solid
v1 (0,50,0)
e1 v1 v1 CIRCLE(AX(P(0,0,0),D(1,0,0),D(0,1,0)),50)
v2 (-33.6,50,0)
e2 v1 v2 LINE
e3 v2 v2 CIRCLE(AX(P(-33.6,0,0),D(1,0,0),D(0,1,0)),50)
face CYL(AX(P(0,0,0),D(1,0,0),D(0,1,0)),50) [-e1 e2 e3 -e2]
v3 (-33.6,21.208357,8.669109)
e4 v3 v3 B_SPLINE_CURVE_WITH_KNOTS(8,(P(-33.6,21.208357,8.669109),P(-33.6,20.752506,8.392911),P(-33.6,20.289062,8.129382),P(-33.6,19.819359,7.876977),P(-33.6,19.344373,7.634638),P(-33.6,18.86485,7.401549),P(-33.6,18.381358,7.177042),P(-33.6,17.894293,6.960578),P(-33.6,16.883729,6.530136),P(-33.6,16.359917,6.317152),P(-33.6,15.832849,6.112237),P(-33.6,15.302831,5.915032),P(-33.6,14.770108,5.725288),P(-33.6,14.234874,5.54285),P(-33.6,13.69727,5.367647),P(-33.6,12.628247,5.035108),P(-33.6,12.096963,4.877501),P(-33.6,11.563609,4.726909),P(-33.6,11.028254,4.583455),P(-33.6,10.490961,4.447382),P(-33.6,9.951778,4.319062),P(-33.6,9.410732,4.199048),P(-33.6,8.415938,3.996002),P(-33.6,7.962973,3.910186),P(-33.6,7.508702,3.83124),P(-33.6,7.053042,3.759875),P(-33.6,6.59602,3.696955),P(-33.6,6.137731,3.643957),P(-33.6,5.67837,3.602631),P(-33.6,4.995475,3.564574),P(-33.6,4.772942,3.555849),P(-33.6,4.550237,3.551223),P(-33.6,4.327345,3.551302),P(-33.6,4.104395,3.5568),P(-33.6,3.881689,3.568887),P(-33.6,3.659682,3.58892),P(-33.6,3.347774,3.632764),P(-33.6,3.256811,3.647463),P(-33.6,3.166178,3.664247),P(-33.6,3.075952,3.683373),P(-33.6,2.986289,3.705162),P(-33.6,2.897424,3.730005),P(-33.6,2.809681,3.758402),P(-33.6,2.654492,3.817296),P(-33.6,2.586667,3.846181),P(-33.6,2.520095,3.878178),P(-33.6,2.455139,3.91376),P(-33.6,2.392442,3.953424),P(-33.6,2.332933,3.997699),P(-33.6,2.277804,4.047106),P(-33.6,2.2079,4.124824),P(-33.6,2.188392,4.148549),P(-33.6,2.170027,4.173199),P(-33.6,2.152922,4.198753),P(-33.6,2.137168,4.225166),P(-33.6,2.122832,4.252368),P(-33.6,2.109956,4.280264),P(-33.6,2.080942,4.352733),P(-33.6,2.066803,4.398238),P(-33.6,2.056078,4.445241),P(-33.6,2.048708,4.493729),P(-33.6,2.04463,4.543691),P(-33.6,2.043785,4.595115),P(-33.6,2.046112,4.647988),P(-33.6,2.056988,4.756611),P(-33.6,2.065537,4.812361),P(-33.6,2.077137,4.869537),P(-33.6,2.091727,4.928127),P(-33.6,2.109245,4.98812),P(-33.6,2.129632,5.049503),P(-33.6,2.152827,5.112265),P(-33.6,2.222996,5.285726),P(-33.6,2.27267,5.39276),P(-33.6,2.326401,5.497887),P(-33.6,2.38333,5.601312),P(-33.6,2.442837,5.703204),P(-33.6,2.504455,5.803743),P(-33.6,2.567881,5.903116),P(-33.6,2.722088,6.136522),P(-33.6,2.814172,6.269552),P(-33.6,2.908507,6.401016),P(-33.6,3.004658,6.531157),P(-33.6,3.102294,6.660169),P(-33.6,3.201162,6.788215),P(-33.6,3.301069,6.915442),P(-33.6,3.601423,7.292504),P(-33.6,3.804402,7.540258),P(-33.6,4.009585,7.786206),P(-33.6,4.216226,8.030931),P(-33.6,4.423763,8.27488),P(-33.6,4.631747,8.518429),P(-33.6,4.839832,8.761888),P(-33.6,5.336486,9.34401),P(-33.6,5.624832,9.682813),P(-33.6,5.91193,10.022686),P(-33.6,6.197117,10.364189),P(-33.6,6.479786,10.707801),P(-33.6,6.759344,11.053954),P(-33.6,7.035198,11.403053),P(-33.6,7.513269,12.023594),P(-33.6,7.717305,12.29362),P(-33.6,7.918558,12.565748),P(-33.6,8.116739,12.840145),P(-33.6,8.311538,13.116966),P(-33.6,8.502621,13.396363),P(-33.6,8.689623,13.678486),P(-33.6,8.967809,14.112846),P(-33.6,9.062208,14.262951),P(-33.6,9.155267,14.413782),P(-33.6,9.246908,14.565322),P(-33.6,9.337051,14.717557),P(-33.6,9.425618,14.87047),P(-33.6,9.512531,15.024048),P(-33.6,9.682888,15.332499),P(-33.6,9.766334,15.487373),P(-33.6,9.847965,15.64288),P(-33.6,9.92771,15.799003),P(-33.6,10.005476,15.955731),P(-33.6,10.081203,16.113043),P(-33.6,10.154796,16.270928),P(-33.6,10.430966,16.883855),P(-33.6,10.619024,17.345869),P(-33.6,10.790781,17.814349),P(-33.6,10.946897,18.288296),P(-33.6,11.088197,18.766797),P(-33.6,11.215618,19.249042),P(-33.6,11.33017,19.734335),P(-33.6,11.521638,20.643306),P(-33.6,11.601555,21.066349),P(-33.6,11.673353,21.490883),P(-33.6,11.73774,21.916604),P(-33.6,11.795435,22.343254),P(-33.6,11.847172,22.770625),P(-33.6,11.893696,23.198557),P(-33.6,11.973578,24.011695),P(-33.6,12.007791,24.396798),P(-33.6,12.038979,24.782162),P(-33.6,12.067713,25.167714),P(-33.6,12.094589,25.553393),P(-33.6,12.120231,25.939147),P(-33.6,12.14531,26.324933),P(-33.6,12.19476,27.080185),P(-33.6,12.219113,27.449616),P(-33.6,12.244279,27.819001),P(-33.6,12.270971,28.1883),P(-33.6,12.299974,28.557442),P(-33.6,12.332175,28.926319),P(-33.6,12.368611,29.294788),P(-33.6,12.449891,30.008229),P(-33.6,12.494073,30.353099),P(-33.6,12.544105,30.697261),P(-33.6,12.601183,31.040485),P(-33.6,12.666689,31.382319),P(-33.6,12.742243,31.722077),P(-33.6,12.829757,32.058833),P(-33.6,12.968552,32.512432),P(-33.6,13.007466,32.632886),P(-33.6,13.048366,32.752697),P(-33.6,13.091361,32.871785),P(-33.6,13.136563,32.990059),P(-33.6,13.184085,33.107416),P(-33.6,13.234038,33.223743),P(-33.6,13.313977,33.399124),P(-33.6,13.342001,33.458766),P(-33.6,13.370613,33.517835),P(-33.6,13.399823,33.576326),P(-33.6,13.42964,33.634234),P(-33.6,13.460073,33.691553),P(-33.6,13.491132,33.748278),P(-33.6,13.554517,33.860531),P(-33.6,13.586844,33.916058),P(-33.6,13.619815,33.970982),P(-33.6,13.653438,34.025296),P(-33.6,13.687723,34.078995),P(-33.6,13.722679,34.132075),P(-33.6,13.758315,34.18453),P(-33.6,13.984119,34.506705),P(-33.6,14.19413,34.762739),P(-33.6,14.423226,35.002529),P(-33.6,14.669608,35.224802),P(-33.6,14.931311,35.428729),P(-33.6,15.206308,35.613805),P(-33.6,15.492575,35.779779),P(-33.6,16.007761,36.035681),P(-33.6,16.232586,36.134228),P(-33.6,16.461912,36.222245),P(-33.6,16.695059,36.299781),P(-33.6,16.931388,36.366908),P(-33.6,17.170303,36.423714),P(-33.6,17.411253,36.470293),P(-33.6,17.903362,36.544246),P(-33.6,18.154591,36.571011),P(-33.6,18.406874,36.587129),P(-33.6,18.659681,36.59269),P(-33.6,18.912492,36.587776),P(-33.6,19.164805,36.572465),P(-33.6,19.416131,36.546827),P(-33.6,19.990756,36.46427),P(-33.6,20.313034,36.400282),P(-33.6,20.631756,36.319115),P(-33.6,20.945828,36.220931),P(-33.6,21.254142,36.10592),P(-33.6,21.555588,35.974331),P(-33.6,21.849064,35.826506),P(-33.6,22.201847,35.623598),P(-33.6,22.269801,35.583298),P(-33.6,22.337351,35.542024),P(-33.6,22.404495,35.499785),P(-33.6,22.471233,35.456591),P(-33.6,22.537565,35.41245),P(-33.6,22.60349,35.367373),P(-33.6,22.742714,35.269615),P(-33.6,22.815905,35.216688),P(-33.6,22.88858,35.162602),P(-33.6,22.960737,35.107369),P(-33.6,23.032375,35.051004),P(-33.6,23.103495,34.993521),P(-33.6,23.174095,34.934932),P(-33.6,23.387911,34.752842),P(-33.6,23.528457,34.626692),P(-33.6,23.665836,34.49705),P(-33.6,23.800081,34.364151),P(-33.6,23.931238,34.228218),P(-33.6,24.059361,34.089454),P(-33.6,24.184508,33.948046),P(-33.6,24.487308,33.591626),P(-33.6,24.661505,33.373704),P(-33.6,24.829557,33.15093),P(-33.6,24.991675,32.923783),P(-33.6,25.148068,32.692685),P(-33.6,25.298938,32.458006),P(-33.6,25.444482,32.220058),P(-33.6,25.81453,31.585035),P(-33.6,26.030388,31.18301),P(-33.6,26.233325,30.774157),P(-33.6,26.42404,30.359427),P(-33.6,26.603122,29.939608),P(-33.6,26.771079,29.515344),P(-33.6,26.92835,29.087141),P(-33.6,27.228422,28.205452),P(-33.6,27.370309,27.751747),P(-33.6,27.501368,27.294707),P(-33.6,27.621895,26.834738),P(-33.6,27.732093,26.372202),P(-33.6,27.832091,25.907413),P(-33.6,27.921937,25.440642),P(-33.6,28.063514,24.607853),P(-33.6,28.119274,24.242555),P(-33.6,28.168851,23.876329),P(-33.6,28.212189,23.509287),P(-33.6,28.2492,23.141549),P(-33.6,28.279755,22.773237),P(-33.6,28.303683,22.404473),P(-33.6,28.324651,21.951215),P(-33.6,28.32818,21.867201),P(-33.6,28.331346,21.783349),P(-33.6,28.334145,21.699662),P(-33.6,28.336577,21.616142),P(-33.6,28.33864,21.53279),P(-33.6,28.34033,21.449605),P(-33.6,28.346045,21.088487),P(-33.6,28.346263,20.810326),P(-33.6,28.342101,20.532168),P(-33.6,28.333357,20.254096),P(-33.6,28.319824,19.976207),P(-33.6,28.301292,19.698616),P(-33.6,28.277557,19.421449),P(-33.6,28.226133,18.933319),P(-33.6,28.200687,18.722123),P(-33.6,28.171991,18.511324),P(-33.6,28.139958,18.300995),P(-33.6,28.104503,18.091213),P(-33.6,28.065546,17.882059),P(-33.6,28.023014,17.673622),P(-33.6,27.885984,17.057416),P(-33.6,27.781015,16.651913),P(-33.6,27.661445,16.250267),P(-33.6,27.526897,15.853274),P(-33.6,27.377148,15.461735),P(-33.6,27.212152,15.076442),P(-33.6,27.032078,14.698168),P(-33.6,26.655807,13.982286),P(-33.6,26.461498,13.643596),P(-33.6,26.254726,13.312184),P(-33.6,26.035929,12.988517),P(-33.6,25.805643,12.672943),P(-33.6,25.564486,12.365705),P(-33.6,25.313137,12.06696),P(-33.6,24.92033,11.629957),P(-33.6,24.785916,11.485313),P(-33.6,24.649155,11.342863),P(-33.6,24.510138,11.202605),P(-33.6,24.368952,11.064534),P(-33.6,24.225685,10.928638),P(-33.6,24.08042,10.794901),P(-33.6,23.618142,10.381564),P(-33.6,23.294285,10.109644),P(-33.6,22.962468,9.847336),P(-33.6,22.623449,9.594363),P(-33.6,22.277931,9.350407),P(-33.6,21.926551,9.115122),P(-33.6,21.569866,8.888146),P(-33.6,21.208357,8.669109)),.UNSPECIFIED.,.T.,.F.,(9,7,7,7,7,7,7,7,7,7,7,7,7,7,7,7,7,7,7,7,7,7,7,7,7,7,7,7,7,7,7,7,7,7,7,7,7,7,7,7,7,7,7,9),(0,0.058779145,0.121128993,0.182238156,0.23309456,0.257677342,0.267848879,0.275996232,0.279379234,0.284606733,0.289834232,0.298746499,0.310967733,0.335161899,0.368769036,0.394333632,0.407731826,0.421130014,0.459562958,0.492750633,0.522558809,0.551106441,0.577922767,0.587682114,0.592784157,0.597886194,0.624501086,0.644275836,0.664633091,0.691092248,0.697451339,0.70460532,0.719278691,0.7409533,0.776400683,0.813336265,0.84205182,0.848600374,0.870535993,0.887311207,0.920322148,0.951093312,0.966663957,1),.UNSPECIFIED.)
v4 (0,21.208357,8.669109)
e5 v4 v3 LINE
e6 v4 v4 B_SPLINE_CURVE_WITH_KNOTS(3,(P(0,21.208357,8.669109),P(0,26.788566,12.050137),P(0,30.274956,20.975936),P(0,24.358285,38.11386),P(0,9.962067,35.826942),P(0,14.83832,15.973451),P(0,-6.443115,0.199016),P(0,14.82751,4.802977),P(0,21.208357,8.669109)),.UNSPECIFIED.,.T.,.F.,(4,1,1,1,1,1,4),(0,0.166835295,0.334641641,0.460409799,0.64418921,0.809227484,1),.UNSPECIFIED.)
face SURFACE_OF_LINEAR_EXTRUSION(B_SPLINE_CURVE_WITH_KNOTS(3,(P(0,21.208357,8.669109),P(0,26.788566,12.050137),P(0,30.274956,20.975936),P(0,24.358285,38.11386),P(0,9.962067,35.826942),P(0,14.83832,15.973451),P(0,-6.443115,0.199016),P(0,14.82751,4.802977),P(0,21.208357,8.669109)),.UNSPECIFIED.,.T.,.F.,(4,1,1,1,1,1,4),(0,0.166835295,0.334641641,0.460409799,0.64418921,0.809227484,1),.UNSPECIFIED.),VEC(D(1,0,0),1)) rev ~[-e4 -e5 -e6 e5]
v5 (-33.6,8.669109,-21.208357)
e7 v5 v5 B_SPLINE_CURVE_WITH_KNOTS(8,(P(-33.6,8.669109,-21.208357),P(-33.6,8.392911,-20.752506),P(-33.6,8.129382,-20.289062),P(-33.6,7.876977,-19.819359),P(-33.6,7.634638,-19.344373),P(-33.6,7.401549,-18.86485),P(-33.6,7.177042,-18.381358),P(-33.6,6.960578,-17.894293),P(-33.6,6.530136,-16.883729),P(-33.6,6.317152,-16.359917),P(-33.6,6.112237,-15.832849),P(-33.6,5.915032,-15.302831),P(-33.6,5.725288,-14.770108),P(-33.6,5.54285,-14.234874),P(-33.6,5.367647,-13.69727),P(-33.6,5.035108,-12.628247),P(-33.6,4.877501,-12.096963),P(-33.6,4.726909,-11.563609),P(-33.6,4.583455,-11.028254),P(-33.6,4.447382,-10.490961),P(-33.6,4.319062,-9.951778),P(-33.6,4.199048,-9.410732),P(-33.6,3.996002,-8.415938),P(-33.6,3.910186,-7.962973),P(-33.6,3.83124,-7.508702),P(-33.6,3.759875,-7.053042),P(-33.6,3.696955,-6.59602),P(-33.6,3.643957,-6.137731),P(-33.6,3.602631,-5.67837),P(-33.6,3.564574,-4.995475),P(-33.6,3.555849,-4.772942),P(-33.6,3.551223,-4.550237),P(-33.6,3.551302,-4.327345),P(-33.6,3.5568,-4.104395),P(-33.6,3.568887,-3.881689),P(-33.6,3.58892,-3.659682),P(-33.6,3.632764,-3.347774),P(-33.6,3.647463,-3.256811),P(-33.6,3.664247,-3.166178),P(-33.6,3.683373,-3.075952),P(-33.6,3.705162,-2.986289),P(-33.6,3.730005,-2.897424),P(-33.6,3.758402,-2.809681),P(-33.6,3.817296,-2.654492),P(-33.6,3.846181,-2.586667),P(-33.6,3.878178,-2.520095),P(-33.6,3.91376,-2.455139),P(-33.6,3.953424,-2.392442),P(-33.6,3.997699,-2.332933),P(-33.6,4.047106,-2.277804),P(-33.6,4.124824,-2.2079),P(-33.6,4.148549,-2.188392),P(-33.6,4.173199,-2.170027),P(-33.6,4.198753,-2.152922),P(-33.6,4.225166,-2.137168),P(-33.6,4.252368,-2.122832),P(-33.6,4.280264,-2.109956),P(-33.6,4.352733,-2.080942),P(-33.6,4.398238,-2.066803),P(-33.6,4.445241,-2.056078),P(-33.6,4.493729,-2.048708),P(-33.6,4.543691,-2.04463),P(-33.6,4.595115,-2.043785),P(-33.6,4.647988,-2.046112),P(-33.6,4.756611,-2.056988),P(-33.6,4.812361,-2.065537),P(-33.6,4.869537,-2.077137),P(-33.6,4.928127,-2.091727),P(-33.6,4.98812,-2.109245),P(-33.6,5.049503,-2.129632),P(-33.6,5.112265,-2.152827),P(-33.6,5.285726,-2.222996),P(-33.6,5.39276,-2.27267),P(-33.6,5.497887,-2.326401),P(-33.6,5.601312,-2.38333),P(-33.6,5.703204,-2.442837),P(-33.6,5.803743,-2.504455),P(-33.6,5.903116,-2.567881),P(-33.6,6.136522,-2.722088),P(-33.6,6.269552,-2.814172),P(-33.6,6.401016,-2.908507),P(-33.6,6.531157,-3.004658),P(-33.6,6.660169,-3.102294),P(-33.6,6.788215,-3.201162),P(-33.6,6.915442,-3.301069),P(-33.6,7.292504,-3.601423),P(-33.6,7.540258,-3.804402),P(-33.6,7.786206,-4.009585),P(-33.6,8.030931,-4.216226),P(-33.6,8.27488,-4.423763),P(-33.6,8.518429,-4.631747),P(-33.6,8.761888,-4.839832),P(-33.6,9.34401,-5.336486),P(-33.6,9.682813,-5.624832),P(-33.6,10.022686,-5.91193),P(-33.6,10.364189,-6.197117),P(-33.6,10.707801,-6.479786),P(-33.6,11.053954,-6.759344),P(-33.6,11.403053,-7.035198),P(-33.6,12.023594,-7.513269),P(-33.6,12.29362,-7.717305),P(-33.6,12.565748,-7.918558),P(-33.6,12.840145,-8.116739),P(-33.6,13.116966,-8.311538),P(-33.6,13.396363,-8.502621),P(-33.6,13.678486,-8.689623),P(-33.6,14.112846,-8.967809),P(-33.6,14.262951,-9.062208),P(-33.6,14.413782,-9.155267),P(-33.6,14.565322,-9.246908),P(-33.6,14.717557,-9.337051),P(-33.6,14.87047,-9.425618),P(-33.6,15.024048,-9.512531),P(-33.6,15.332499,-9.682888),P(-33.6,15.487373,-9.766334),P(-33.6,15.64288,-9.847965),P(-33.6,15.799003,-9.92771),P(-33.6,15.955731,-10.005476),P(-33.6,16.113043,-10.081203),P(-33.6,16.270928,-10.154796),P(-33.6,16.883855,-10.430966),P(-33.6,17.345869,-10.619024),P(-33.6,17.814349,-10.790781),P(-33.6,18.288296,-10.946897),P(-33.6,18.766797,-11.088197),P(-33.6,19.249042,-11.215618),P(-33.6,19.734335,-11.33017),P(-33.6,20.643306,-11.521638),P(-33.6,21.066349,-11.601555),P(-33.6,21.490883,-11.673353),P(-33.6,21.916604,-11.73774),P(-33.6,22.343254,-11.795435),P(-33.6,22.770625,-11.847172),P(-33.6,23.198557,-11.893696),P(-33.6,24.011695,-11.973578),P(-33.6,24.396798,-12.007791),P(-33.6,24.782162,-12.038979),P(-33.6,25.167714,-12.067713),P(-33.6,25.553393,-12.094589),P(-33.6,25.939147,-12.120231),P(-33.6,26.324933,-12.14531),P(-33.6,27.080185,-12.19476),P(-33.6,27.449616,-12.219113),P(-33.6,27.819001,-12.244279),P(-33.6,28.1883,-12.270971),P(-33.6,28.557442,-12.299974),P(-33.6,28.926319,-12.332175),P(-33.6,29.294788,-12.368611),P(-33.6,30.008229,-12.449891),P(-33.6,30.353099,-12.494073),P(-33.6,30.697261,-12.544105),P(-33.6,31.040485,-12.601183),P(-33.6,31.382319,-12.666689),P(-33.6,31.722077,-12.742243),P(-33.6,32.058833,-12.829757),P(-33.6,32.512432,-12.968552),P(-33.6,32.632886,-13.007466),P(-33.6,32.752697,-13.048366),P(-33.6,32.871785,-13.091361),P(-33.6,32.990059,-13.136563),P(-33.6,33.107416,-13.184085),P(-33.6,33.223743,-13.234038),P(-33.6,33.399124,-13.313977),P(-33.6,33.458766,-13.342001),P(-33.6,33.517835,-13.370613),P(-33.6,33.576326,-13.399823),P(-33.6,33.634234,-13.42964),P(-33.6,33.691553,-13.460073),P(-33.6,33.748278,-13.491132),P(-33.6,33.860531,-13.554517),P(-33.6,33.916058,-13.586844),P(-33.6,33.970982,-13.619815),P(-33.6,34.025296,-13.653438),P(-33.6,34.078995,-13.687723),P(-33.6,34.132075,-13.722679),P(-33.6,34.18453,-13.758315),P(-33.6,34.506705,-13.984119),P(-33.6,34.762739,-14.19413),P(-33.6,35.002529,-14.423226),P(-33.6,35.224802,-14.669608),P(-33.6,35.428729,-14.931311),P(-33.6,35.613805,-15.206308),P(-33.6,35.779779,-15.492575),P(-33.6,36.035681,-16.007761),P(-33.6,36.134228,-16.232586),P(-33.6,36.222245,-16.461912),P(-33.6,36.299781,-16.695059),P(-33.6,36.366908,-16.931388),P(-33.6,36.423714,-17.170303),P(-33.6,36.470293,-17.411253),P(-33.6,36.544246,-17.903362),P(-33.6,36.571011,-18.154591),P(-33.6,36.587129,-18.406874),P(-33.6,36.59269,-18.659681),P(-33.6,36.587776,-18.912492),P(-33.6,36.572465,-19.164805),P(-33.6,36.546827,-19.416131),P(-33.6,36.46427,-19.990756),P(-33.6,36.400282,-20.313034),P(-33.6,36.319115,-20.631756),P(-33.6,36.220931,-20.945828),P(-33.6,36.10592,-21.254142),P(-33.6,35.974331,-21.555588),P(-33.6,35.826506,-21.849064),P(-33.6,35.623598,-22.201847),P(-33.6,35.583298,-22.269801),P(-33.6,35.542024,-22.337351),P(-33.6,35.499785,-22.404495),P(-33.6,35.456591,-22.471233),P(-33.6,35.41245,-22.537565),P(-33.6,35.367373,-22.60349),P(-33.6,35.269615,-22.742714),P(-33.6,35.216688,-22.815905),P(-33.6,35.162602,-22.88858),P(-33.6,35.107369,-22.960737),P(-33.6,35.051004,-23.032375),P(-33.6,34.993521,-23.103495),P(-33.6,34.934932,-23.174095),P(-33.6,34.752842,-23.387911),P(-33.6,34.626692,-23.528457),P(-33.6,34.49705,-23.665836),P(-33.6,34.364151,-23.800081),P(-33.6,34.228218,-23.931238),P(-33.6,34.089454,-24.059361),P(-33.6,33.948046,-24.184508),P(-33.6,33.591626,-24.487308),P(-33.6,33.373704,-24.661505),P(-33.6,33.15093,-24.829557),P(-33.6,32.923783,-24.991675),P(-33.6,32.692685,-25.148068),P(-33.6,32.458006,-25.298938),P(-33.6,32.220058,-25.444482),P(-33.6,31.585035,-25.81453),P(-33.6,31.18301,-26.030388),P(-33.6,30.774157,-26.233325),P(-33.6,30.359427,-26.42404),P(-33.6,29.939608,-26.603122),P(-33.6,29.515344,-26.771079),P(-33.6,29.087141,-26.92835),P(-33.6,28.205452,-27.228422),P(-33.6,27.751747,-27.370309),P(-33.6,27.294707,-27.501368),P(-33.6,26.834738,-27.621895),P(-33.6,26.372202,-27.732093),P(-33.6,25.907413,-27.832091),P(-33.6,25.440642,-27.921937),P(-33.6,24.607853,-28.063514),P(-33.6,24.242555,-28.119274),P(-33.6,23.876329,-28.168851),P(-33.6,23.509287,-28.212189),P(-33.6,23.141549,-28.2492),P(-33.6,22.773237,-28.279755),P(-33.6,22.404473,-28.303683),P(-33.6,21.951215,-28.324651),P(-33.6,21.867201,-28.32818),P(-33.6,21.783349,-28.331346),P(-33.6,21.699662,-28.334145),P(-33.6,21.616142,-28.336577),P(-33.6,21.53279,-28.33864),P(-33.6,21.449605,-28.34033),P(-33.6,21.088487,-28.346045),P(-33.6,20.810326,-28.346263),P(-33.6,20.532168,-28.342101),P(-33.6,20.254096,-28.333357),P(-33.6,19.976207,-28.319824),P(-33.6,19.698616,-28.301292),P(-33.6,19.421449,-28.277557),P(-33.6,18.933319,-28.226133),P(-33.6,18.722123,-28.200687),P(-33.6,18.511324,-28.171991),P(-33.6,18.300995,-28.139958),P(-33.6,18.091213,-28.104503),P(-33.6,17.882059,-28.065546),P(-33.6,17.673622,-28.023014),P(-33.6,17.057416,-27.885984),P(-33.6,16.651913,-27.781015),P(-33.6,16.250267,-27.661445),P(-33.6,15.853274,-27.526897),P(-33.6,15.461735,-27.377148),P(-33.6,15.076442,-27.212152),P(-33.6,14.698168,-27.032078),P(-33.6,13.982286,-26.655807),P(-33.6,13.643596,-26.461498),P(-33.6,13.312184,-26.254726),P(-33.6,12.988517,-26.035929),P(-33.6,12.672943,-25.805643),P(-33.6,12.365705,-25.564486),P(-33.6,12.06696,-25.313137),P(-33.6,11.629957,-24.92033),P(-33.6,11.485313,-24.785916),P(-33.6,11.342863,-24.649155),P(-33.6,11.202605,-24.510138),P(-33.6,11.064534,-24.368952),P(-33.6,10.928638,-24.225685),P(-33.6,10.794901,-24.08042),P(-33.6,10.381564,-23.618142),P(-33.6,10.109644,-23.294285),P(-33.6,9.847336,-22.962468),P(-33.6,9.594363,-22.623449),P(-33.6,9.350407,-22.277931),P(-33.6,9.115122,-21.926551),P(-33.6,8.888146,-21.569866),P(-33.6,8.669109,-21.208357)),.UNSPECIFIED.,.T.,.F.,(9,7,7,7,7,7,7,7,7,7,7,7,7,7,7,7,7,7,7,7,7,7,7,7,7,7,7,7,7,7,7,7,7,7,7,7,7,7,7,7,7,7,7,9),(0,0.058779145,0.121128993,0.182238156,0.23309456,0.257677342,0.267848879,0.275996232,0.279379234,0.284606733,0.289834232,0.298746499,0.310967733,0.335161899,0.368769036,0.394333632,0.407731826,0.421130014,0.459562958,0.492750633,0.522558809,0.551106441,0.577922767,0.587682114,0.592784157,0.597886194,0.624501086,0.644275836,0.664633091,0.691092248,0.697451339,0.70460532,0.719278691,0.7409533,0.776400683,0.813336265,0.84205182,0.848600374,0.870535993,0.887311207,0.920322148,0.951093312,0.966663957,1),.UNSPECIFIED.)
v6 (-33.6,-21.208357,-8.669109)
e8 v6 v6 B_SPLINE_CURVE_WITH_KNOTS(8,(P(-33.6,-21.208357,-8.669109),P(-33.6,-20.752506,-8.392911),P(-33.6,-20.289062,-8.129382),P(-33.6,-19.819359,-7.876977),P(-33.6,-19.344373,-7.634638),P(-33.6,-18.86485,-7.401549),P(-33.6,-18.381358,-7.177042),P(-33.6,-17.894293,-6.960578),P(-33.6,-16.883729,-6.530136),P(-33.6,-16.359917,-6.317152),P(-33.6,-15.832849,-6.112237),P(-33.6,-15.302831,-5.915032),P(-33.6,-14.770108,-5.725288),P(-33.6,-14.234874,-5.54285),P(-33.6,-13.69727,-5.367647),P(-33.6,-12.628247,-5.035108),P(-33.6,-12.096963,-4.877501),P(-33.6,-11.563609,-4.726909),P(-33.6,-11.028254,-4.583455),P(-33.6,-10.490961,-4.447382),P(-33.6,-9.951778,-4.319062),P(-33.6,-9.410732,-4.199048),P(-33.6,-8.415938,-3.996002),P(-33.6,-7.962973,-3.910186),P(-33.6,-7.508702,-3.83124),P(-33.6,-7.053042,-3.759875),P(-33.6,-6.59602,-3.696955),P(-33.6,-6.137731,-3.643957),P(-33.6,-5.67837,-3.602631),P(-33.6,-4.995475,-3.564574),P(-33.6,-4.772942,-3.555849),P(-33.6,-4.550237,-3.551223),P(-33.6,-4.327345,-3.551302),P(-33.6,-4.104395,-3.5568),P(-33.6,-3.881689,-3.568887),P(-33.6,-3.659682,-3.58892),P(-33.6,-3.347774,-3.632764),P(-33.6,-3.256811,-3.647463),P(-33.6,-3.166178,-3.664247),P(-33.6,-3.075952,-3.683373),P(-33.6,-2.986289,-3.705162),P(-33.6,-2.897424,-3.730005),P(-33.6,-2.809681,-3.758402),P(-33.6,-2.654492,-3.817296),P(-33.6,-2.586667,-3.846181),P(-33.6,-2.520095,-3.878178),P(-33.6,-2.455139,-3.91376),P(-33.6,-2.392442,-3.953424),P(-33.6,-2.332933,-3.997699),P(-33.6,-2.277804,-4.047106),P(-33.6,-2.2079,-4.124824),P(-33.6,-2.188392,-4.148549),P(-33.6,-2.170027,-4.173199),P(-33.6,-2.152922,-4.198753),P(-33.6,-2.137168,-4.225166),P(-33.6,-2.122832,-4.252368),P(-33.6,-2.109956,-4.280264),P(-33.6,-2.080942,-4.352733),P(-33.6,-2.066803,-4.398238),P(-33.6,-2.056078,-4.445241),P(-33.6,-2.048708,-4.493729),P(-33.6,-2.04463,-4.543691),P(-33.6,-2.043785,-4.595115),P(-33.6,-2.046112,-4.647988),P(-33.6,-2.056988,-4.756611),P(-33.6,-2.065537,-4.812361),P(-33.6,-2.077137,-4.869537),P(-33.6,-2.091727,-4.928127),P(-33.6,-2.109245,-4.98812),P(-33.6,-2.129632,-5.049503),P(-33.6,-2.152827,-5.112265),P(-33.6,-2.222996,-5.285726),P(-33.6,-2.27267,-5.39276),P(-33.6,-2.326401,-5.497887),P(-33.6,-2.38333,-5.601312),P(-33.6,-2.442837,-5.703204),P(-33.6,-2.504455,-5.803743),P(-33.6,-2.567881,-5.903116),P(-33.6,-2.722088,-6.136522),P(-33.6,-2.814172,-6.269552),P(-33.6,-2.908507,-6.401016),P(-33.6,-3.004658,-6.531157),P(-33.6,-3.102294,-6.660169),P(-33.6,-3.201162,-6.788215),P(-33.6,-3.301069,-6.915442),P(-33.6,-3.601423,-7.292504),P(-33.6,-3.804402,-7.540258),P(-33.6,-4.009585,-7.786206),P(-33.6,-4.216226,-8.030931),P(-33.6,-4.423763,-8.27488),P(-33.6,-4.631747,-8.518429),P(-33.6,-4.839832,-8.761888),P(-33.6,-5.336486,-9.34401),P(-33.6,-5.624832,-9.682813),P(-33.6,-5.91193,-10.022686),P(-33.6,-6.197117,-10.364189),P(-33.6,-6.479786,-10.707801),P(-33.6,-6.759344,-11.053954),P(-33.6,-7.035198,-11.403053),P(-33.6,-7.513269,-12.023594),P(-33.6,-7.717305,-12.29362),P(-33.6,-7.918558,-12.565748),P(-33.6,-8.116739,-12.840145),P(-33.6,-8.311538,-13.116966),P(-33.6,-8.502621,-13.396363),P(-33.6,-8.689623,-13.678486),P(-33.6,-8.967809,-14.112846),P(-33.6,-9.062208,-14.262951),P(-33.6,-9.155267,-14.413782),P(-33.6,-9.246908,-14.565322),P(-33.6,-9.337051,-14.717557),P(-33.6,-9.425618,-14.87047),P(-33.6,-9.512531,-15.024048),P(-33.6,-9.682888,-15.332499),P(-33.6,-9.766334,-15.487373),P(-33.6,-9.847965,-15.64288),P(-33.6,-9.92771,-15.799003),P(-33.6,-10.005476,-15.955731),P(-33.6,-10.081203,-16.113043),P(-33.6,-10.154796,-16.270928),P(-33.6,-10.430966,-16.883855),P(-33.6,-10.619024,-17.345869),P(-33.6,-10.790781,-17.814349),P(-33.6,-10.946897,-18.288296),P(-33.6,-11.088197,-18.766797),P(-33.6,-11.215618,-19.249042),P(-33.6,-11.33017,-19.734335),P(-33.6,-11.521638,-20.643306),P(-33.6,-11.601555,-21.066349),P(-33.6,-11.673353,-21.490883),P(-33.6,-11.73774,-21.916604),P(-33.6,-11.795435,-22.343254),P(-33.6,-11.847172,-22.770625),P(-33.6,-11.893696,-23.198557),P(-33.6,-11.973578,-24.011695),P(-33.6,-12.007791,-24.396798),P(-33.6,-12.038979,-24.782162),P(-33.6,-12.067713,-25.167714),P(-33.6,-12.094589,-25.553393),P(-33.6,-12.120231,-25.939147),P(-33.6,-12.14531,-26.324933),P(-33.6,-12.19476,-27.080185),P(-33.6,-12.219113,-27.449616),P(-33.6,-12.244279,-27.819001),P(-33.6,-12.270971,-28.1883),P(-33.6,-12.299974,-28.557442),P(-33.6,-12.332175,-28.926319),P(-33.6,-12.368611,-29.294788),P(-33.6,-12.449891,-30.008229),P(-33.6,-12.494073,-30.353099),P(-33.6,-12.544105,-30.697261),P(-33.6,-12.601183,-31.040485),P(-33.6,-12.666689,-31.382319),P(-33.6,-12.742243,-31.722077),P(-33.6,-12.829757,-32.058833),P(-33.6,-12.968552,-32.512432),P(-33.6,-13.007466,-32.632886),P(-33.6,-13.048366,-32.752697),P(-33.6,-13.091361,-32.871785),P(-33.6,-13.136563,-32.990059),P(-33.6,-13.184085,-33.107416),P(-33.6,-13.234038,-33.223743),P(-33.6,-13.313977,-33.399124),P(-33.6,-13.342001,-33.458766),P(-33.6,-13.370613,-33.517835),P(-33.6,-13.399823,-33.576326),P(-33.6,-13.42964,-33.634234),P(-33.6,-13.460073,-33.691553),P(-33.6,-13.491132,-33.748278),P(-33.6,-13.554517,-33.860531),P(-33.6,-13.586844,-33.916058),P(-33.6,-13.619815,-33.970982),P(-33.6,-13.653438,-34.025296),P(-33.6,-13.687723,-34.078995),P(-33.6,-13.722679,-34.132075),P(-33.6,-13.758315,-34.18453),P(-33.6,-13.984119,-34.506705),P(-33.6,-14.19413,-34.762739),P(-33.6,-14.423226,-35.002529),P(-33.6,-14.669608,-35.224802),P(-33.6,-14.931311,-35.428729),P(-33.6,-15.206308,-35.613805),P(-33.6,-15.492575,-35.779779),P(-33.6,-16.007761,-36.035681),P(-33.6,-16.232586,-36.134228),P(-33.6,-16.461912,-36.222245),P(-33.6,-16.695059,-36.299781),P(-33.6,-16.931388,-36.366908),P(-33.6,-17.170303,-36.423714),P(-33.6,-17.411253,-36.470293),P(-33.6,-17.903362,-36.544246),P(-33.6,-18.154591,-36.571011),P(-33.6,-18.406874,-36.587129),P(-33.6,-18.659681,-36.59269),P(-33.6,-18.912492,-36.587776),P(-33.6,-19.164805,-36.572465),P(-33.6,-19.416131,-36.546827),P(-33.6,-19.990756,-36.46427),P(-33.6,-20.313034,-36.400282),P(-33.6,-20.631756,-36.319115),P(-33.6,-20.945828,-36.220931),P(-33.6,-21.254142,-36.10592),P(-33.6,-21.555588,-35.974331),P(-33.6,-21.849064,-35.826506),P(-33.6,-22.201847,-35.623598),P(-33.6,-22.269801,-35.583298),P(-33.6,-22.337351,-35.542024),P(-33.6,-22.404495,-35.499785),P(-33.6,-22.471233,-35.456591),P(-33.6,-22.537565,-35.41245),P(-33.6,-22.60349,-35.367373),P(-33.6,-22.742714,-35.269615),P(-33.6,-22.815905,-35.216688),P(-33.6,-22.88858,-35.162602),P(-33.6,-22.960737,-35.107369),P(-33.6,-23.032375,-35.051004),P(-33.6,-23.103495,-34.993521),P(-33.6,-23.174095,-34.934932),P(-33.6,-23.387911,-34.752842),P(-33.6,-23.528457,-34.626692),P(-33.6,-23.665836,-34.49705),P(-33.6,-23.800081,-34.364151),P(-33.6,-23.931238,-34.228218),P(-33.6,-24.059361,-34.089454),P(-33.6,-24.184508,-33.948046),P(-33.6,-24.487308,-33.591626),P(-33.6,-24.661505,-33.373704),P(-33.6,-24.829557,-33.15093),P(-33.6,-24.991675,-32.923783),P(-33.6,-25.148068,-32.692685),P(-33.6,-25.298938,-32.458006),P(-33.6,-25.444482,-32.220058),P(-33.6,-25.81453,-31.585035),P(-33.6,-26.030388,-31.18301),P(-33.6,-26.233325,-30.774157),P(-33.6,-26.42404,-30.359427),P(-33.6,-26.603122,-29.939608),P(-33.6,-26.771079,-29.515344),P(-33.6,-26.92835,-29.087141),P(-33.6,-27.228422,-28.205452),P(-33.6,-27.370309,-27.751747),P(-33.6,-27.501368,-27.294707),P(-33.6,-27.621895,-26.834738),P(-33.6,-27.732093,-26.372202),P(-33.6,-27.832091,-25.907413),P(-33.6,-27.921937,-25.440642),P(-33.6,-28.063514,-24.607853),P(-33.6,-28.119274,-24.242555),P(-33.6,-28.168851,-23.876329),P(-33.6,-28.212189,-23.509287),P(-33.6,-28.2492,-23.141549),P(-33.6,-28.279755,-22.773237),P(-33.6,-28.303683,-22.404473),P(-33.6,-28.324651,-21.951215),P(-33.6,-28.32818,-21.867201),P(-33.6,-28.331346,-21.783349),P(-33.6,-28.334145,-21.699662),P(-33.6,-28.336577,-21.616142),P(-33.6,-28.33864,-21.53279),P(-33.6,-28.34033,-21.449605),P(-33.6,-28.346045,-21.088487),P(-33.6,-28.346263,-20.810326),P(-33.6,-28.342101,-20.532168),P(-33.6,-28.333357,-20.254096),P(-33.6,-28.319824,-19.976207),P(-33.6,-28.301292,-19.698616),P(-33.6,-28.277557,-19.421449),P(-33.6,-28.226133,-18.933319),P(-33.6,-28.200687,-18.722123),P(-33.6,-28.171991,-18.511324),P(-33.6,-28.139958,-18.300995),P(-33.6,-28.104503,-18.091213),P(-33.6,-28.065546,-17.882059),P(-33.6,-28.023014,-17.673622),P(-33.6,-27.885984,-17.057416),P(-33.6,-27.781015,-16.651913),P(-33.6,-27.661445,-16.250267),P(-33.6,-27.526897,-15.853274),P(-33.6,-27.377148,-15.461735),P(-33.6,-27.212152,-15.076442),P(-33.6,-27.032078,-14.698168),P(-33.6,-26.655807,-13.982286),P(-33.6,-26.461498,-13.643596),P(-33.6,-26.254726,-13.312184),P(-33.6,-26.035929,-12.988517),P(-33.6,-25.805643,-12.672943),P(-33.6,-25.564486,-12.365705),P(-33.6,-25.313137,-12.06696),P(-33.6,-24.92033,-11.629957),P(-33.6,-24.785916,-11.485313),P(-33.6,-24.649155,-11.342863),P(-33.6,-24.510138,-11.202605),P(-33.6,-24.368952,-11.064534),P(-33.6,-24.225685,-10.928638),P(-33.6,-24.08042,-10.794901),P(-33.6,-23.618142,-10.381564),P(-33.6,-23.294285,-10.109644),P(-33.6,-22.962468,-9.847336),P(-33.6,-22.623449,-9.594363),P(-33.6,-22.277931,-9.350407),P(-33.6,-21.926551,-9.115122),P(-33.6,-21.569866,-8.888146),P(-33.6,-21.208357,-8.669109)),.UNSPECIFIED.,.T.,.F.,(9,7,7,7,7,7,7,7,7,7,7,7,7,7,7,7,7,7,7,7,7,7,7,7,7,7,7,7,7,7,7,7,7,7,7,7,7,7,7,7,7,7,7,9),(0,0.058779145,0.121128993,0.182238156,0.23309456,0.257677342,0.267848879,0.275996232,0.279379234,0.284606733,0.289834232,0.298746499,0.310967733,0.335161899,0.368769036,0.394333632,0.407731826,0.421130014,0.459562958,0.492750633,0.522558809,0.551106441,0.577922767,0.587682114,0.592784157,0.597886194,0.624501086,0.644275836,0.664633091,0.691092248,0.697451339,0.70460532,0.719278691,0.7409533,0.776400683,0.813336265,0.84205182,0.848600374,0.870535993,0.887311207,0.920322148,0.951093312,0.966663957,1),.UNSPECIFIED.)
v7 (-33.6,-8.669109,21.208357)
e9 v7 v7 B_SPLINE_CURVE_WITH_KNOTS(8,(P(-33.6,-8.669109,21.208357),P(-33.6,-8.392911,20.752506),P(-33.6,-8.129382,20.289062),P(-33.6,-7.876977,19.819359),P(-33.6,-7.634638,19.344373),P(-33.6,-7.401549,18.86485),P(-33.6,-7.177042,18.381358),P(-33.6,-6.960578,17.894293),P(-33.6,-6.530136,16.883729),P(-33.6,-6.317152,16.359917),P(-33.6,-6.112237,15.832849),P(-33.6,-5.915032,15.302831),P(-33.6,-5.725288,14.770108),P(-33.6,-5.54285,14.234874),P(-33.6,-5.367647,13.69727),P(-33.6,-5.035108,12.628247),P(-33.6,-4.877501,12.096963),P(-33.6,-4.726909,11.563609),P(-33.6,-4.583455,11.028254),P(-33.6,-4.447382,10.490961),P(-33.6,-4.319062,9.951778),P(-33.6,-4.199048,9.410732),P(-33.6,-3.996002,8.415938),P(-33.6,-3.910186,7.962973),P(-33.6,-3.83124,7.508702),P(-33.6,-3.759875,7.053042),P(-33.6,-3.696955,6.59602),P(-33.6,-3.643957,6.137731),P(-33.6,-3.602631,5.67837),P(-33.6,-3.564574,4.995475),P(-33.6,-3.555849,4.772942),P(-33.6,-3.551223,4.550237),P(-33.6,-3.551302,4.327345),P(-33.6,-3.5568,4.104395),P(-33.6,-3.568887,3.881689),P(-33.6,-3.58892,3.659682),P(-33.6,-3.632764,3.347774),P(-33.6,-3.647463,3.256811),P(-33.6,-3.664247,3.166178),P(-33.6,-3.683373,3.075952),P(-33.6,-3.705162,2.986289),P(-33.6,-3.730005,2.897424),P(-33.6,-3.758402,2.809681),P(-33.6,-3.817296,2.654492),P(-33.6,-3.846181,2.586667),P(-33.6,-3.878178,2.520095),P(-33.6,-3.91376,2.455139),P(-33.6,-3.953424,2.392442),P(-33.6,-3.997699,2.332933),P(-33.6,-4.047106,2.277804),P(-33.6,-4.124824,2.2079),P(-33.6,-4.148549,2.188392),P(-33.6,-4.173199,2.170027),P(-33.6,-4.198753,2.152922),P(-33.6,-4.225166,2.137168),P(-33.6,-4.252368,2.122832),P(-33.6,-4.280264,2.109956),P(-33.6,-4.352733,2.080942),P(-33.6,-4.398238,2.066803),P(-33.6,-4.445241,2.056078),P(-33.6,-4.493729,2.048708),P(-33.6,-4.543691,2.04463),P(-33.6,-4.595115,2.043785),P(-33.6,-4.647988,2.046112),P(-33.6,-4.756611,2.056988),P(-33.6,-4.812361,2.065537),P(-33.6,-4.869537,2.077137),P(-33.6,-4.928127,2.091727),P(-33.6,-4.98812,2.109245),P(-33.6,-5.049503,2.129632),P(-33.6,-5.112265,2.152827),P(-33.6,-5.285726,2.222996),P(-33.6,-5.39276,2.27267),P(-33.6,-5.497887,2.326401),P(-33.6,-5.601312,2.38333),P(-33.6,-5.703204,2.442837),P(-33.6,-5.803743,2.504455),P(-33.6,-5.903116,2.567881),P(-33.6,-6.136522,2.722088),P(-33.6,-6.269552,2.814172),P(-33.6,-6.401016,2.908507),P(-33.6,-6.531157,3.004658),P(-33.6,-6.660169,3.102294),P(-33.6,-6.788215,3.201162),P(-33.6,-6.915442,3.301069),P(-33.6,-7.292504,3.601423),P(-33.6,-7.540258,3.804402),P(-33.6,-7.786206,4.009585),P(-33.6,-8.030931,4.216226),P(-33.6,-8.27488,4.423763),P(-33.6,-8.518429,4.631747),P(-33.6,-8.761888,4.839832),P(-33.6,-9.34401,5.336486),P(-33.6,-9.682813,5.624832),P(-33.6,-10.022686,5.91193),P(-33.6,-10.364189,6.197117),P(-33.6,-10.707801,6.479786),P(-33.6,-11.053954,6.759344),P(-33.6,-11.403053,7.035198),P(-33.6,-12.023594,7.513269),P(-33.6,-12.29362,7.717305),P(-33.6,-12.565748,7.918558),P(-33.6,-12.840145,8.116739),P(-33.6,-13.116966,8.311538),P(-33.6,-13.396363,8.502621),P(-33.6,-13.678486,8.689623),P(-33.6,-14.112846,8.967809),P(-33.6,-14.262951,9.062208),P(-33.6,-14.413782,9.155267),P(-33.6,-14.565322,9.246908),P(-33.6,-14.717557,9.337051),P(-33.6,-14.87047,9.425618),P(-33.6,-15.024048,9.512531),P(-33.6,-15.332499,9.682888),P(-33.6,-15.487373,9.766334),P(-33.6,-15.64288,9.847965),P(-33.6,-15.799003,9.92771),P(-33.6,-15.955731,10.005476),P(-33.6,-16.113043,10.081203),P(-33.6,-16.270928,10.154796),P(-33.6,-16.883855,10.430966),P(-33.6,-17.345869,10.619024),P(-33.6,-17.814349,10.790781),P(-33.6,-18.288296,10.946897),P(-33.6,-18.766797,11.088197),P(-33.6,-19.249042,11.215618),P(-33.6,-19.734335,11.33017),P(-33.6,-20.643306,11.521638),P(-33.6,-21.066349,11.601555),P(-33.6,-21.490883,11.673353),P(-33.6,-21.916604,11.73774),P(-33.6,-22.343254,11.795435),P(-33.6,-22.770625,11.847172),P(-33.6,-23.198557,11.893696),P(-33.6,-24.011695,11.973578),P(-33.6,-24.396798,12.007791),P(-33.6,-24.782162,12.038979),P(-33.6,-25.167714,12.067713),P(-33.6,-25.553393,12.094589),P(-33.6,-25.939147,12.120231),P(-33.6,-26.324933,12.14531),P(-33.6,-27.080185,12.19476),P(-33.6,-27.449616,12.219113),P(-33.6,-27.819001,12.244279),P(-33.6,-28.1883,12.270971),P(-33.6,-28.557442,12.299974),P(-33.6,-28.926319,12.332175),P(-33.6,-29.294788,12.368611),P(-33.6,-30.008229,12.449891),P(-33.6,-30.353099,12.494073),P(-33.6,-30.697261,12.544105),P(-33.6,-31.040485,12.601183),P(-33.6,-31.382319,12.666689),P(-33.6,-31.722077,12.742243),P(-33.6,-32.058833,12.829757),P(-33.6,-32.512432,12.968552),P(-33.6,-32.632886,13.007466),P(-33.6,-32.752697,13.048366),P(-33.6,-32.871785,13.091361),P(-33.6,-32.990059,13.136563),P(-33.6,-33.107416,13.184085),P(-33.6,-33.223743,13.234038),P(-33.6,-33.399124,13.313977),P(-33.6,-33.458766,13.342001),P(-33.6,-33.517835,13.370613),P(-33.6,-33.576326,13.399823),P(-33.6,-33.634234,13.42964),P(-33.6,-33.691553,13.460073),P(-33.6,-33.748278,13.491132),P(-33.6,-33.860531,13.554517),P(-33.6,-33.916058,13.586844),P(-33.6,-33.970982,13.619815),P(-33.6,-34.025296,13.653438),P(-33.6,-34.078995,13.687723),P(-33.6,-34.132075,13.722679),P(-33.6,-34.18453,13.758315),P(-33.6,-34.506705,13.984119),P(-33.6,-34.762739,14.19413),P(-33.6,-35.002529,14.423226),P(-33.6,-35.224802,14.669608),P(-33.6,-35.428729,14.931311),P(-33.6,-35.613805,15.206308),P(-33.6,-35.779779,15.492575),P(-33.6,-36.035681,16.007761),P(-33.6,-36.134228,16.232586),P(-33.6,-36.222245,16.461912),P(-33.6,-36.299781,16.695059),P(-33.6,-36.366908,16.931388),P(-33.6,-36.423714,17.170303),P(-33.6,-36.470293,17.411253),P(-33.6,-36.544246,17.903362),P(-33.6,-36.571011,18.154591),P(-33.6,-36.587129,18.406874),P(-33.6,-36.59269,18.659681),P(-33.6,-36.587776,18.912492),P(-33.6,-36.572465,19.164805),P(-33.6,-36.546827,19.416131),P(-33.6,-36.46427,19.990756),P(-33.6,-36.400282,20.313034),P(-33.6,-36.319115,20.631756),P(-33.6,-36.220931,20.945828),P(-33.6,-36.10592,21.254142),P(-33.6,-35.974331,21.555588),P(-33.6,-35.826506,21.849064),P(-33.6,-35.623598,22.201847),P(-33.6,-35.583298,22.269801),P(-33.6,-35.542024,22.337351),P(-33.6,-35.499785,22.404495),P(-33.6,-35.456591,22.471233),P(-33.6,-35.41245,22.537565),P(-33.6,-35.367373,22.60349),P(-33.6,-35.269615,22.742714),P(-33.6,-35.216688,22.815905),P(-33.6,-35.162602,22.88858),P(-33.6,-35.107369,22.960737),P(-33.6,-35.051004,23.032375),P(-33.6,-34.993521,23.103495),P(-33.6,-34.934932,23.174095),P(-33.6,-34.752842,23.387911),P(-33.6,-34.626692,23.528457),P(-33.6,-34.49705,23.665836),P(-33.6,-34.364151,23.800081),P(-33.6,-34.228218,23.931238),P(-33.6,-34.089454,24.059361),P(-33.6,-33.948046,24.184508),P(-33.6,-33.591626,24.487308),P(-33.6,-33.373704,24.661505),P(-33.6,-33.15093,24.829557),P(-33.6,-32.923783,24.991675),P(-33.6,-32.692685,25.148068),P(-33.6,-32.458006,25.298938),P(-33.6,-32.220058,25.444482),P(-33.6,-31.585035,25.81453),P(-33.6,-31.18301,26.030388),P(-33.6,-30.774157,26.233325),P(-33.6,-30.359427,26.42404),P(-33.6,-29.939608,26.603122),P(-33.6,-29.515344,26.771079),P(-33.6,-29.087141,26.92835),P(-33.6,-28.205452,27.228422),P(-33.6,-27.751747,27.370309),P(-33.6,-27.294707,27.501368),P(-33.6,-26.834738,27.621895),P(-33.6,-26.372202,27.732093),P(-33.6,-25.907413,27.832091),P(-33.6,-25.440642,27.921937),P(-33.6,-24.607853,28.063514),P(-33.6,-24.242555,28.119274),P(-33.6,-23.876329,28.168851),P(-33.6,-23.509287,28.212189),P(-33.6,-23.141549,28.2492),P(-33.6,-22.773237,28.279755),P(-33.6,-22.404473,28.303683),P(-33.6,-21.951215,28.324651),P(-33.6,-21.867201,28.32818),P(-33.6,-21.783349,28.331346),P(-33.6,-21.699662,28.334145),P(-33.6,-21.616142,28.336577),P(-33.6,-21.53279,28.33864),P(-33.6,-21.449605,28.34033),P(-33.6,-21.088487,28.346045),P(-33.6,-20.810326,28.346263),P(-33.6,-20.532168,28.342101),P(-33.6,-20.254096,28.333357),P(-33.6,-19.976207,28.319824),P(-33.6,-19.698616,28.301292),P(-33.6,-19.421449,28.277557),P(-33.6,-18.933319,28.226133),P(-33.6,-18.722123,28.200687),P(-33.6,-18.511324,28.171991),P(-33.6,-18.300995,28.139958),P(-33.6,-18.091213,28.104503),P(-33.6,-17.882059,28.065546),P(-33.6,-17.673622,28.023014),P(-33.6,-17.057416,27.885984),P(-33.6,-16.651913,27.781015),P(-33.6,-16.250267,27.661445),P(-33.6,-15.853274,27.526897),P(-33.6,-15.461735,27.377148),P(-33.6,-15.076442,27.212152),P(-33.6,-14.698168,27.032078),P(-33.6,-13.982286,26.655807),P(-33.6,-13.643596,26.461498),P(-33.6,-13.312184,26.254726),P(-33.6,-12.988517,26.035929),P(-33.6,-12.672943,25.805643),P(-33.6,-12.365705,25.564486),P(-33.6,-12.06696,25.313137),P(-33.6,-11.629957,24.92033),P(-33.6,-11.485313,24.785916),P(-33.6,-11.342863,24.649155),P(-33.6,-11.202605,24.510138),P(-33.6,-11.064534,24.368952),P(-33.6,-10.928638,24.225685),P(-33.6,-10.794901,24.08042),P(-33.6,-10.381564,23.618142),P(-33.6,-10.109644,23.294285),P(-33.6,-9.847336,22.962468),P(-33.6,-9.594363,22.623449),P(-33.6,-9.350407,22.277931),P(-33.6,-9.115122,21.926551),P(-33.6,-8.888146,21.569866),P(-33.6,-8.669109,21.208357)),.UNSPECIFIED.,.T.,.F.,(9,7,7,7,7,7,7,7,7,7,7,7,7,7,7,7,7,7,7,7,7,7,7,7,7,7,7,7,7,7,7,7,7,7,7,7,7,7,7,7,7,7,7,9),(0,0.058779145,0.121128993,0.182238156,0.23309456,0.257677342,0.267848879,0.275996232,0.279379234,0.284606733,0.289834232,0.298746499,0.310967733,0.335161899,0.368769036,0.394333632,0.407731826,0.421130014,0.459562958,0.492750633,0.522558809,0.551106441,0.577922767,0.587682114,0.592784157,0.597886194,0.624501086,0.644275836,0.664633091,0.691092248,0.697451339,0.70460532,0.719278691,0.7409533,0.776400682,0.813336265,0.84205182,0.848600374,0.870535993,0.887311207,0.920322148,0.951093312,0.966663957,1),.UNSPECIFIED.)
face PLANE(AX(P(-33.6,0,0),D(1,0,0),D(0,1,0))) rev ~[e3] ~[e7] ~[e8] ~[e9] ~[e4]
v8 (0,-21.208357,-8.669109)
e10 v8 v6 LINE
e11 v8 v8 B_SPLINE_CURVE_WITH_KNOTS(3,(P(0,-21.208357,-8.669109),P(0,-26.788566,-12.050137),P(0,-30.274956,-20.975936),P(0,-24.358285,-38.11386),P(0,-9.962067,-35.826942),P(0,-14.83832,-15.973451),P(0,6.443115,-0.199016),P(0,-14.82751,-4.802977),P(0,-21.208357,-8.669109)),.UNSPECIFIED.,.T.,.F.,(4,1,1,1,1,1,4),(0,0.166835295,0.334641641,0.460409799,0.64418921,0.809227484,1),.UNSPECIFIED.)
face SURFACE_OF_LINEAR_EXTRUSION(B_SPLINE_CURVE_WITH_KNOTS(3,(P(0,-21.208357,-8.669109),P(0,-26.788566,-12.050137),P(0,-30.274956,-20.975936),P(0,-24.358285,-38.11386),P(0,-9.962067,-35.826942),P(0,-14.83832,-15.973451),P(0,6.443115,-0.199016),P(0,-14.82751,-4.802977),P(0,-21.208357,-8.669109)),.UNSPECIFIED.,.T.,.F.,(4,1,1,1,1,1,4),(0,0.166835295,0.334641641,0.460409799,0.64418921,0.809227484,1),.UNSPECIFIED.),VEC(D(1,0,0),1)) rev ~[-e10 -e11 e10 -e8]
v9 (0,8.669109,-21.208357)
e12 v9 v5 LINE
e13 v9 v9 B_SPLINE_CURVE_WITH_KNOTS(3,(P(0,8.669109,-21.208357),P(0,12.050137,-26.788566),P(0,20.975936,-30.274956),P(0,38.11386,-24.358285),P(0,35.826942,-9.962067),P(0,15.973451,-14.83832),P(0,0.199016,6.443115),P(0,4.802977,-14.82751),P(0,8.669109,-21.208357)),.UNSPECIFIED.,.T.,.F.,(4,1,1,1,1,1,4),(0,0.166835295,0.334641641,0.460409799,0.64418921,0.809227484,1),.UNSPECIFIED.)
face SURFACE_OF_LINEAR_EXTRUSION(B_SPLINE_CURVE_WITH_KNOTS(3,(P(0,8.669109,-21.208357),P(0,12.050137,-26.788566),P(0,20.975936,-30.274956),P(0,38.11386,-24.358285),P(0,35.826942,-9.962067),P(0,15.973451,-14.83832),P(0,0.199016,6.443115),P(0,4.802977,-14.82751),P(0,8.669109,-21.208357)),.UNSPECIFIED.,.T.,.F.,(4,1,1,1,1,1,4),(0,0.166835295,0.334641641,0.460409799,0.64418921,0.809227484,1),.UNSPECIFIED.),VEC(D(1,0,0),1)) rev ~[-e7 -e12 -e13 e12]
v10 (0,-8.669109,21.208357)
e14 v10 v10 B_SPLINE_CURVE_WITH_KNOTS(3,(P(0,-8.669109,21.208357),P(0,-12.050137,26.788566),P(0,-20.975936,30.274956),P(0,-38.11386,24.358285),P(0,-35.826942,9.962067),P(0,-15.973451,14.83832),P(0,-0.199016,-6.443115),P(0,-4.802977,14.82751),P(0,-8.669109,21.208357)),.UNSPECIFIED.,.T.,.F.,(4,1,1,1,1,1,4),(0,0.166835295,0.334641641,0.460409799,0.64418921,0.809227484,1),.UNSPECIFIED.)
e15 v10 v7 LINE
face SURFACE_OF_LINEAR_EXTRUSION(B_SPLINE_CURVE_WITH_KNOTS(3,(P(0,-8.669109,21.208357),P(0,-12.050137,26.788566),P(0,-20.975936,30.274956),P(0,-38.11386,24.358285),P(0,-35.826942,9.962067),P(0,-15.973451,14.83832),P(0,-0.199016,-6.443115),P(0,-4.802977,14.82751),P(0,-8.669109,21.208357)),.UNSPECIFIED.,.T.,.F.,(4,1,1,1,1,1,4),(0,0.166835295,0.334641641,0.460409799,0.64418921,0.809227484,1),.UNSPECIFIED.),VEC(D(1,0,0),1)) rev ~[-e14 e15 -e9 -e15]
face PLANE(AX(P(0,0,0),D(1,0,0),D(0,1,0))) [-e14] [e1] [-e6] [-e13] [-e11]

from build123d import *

# Parameters (mm, degrees)
F0_R     = 50
F1_DEPTH = 33.6
F3_DEPTH = 56.8
F5_COUNT = 4


with BuildPart() as f1:
    # F0 (on Right) → F1 (new body)
    with BuildSketch(Plane.YZ):
        Circle(F0_R)
    extrude(amount=-F1_DEPTH)


with BuildPart() as f3:
    # F2 (on face) → F3 (new body)
    with BuildSketch(Plane.YZ):
        with BuildLine():
            add(Edge.make_bspline(
                [(21.2083570659, 8.6691090837), (26.7885657915, 12.0501373577), (30.2749562705, 20.975936076), (24.3582847927, 38.1138598739), (9.9620666586, 35.8269418756), (14.8383202082, 15.9734505903), (-6.4431146448, 0.1990159338), (14.8275102715, 4.8029771011), (21.2083570659, 8.6691090837)],
                knots=[0, 0, 0, 0, 0.1668352953, 0.3346416405, 0.4604097995, 0.6441892098, 0.8092274838, 1, 1, 1, 1], degree=3))
        make_face()
    extrude(amount=-F3_DEPTH)


with BuildPart() as f5_1:
    # F5: instance of F3
    add(f3.part.rotate(Axis((-18.2636100799, 0, 0), (-1, 0, 0)), 1 * 360 / F5_COUNT))


with BuildPart() as f5_2:
    # F5: instance of F3
    add(f3.part.rotate(Axis((-18.2636100799, 0, 0), (-1, 0, 0)), 2 * 360 / F5_COUNT))


with BuildPart() as f5_3:
    # F5: instance of F3
    add(f3.part.rotate(Axis((-18.2636100799, 0, 0), (-1, 0, 0)), 3 * 360 / F5_COUNT))


with BuildPart() as f1_1:
    add(f1.part)

    # F6: cut F3, F5_1, F5_2, F5_3
    add(f3.part, mode=Mode.SUBTRACT)
    add(f5_1.part, mode=Mode.SUBTRACT)
    add(f5_2.part, mode=Mode.SUBTRACT)
    add(f5_3.part, mode=Mode.SUBTRACT)


solid = f1_1.part
